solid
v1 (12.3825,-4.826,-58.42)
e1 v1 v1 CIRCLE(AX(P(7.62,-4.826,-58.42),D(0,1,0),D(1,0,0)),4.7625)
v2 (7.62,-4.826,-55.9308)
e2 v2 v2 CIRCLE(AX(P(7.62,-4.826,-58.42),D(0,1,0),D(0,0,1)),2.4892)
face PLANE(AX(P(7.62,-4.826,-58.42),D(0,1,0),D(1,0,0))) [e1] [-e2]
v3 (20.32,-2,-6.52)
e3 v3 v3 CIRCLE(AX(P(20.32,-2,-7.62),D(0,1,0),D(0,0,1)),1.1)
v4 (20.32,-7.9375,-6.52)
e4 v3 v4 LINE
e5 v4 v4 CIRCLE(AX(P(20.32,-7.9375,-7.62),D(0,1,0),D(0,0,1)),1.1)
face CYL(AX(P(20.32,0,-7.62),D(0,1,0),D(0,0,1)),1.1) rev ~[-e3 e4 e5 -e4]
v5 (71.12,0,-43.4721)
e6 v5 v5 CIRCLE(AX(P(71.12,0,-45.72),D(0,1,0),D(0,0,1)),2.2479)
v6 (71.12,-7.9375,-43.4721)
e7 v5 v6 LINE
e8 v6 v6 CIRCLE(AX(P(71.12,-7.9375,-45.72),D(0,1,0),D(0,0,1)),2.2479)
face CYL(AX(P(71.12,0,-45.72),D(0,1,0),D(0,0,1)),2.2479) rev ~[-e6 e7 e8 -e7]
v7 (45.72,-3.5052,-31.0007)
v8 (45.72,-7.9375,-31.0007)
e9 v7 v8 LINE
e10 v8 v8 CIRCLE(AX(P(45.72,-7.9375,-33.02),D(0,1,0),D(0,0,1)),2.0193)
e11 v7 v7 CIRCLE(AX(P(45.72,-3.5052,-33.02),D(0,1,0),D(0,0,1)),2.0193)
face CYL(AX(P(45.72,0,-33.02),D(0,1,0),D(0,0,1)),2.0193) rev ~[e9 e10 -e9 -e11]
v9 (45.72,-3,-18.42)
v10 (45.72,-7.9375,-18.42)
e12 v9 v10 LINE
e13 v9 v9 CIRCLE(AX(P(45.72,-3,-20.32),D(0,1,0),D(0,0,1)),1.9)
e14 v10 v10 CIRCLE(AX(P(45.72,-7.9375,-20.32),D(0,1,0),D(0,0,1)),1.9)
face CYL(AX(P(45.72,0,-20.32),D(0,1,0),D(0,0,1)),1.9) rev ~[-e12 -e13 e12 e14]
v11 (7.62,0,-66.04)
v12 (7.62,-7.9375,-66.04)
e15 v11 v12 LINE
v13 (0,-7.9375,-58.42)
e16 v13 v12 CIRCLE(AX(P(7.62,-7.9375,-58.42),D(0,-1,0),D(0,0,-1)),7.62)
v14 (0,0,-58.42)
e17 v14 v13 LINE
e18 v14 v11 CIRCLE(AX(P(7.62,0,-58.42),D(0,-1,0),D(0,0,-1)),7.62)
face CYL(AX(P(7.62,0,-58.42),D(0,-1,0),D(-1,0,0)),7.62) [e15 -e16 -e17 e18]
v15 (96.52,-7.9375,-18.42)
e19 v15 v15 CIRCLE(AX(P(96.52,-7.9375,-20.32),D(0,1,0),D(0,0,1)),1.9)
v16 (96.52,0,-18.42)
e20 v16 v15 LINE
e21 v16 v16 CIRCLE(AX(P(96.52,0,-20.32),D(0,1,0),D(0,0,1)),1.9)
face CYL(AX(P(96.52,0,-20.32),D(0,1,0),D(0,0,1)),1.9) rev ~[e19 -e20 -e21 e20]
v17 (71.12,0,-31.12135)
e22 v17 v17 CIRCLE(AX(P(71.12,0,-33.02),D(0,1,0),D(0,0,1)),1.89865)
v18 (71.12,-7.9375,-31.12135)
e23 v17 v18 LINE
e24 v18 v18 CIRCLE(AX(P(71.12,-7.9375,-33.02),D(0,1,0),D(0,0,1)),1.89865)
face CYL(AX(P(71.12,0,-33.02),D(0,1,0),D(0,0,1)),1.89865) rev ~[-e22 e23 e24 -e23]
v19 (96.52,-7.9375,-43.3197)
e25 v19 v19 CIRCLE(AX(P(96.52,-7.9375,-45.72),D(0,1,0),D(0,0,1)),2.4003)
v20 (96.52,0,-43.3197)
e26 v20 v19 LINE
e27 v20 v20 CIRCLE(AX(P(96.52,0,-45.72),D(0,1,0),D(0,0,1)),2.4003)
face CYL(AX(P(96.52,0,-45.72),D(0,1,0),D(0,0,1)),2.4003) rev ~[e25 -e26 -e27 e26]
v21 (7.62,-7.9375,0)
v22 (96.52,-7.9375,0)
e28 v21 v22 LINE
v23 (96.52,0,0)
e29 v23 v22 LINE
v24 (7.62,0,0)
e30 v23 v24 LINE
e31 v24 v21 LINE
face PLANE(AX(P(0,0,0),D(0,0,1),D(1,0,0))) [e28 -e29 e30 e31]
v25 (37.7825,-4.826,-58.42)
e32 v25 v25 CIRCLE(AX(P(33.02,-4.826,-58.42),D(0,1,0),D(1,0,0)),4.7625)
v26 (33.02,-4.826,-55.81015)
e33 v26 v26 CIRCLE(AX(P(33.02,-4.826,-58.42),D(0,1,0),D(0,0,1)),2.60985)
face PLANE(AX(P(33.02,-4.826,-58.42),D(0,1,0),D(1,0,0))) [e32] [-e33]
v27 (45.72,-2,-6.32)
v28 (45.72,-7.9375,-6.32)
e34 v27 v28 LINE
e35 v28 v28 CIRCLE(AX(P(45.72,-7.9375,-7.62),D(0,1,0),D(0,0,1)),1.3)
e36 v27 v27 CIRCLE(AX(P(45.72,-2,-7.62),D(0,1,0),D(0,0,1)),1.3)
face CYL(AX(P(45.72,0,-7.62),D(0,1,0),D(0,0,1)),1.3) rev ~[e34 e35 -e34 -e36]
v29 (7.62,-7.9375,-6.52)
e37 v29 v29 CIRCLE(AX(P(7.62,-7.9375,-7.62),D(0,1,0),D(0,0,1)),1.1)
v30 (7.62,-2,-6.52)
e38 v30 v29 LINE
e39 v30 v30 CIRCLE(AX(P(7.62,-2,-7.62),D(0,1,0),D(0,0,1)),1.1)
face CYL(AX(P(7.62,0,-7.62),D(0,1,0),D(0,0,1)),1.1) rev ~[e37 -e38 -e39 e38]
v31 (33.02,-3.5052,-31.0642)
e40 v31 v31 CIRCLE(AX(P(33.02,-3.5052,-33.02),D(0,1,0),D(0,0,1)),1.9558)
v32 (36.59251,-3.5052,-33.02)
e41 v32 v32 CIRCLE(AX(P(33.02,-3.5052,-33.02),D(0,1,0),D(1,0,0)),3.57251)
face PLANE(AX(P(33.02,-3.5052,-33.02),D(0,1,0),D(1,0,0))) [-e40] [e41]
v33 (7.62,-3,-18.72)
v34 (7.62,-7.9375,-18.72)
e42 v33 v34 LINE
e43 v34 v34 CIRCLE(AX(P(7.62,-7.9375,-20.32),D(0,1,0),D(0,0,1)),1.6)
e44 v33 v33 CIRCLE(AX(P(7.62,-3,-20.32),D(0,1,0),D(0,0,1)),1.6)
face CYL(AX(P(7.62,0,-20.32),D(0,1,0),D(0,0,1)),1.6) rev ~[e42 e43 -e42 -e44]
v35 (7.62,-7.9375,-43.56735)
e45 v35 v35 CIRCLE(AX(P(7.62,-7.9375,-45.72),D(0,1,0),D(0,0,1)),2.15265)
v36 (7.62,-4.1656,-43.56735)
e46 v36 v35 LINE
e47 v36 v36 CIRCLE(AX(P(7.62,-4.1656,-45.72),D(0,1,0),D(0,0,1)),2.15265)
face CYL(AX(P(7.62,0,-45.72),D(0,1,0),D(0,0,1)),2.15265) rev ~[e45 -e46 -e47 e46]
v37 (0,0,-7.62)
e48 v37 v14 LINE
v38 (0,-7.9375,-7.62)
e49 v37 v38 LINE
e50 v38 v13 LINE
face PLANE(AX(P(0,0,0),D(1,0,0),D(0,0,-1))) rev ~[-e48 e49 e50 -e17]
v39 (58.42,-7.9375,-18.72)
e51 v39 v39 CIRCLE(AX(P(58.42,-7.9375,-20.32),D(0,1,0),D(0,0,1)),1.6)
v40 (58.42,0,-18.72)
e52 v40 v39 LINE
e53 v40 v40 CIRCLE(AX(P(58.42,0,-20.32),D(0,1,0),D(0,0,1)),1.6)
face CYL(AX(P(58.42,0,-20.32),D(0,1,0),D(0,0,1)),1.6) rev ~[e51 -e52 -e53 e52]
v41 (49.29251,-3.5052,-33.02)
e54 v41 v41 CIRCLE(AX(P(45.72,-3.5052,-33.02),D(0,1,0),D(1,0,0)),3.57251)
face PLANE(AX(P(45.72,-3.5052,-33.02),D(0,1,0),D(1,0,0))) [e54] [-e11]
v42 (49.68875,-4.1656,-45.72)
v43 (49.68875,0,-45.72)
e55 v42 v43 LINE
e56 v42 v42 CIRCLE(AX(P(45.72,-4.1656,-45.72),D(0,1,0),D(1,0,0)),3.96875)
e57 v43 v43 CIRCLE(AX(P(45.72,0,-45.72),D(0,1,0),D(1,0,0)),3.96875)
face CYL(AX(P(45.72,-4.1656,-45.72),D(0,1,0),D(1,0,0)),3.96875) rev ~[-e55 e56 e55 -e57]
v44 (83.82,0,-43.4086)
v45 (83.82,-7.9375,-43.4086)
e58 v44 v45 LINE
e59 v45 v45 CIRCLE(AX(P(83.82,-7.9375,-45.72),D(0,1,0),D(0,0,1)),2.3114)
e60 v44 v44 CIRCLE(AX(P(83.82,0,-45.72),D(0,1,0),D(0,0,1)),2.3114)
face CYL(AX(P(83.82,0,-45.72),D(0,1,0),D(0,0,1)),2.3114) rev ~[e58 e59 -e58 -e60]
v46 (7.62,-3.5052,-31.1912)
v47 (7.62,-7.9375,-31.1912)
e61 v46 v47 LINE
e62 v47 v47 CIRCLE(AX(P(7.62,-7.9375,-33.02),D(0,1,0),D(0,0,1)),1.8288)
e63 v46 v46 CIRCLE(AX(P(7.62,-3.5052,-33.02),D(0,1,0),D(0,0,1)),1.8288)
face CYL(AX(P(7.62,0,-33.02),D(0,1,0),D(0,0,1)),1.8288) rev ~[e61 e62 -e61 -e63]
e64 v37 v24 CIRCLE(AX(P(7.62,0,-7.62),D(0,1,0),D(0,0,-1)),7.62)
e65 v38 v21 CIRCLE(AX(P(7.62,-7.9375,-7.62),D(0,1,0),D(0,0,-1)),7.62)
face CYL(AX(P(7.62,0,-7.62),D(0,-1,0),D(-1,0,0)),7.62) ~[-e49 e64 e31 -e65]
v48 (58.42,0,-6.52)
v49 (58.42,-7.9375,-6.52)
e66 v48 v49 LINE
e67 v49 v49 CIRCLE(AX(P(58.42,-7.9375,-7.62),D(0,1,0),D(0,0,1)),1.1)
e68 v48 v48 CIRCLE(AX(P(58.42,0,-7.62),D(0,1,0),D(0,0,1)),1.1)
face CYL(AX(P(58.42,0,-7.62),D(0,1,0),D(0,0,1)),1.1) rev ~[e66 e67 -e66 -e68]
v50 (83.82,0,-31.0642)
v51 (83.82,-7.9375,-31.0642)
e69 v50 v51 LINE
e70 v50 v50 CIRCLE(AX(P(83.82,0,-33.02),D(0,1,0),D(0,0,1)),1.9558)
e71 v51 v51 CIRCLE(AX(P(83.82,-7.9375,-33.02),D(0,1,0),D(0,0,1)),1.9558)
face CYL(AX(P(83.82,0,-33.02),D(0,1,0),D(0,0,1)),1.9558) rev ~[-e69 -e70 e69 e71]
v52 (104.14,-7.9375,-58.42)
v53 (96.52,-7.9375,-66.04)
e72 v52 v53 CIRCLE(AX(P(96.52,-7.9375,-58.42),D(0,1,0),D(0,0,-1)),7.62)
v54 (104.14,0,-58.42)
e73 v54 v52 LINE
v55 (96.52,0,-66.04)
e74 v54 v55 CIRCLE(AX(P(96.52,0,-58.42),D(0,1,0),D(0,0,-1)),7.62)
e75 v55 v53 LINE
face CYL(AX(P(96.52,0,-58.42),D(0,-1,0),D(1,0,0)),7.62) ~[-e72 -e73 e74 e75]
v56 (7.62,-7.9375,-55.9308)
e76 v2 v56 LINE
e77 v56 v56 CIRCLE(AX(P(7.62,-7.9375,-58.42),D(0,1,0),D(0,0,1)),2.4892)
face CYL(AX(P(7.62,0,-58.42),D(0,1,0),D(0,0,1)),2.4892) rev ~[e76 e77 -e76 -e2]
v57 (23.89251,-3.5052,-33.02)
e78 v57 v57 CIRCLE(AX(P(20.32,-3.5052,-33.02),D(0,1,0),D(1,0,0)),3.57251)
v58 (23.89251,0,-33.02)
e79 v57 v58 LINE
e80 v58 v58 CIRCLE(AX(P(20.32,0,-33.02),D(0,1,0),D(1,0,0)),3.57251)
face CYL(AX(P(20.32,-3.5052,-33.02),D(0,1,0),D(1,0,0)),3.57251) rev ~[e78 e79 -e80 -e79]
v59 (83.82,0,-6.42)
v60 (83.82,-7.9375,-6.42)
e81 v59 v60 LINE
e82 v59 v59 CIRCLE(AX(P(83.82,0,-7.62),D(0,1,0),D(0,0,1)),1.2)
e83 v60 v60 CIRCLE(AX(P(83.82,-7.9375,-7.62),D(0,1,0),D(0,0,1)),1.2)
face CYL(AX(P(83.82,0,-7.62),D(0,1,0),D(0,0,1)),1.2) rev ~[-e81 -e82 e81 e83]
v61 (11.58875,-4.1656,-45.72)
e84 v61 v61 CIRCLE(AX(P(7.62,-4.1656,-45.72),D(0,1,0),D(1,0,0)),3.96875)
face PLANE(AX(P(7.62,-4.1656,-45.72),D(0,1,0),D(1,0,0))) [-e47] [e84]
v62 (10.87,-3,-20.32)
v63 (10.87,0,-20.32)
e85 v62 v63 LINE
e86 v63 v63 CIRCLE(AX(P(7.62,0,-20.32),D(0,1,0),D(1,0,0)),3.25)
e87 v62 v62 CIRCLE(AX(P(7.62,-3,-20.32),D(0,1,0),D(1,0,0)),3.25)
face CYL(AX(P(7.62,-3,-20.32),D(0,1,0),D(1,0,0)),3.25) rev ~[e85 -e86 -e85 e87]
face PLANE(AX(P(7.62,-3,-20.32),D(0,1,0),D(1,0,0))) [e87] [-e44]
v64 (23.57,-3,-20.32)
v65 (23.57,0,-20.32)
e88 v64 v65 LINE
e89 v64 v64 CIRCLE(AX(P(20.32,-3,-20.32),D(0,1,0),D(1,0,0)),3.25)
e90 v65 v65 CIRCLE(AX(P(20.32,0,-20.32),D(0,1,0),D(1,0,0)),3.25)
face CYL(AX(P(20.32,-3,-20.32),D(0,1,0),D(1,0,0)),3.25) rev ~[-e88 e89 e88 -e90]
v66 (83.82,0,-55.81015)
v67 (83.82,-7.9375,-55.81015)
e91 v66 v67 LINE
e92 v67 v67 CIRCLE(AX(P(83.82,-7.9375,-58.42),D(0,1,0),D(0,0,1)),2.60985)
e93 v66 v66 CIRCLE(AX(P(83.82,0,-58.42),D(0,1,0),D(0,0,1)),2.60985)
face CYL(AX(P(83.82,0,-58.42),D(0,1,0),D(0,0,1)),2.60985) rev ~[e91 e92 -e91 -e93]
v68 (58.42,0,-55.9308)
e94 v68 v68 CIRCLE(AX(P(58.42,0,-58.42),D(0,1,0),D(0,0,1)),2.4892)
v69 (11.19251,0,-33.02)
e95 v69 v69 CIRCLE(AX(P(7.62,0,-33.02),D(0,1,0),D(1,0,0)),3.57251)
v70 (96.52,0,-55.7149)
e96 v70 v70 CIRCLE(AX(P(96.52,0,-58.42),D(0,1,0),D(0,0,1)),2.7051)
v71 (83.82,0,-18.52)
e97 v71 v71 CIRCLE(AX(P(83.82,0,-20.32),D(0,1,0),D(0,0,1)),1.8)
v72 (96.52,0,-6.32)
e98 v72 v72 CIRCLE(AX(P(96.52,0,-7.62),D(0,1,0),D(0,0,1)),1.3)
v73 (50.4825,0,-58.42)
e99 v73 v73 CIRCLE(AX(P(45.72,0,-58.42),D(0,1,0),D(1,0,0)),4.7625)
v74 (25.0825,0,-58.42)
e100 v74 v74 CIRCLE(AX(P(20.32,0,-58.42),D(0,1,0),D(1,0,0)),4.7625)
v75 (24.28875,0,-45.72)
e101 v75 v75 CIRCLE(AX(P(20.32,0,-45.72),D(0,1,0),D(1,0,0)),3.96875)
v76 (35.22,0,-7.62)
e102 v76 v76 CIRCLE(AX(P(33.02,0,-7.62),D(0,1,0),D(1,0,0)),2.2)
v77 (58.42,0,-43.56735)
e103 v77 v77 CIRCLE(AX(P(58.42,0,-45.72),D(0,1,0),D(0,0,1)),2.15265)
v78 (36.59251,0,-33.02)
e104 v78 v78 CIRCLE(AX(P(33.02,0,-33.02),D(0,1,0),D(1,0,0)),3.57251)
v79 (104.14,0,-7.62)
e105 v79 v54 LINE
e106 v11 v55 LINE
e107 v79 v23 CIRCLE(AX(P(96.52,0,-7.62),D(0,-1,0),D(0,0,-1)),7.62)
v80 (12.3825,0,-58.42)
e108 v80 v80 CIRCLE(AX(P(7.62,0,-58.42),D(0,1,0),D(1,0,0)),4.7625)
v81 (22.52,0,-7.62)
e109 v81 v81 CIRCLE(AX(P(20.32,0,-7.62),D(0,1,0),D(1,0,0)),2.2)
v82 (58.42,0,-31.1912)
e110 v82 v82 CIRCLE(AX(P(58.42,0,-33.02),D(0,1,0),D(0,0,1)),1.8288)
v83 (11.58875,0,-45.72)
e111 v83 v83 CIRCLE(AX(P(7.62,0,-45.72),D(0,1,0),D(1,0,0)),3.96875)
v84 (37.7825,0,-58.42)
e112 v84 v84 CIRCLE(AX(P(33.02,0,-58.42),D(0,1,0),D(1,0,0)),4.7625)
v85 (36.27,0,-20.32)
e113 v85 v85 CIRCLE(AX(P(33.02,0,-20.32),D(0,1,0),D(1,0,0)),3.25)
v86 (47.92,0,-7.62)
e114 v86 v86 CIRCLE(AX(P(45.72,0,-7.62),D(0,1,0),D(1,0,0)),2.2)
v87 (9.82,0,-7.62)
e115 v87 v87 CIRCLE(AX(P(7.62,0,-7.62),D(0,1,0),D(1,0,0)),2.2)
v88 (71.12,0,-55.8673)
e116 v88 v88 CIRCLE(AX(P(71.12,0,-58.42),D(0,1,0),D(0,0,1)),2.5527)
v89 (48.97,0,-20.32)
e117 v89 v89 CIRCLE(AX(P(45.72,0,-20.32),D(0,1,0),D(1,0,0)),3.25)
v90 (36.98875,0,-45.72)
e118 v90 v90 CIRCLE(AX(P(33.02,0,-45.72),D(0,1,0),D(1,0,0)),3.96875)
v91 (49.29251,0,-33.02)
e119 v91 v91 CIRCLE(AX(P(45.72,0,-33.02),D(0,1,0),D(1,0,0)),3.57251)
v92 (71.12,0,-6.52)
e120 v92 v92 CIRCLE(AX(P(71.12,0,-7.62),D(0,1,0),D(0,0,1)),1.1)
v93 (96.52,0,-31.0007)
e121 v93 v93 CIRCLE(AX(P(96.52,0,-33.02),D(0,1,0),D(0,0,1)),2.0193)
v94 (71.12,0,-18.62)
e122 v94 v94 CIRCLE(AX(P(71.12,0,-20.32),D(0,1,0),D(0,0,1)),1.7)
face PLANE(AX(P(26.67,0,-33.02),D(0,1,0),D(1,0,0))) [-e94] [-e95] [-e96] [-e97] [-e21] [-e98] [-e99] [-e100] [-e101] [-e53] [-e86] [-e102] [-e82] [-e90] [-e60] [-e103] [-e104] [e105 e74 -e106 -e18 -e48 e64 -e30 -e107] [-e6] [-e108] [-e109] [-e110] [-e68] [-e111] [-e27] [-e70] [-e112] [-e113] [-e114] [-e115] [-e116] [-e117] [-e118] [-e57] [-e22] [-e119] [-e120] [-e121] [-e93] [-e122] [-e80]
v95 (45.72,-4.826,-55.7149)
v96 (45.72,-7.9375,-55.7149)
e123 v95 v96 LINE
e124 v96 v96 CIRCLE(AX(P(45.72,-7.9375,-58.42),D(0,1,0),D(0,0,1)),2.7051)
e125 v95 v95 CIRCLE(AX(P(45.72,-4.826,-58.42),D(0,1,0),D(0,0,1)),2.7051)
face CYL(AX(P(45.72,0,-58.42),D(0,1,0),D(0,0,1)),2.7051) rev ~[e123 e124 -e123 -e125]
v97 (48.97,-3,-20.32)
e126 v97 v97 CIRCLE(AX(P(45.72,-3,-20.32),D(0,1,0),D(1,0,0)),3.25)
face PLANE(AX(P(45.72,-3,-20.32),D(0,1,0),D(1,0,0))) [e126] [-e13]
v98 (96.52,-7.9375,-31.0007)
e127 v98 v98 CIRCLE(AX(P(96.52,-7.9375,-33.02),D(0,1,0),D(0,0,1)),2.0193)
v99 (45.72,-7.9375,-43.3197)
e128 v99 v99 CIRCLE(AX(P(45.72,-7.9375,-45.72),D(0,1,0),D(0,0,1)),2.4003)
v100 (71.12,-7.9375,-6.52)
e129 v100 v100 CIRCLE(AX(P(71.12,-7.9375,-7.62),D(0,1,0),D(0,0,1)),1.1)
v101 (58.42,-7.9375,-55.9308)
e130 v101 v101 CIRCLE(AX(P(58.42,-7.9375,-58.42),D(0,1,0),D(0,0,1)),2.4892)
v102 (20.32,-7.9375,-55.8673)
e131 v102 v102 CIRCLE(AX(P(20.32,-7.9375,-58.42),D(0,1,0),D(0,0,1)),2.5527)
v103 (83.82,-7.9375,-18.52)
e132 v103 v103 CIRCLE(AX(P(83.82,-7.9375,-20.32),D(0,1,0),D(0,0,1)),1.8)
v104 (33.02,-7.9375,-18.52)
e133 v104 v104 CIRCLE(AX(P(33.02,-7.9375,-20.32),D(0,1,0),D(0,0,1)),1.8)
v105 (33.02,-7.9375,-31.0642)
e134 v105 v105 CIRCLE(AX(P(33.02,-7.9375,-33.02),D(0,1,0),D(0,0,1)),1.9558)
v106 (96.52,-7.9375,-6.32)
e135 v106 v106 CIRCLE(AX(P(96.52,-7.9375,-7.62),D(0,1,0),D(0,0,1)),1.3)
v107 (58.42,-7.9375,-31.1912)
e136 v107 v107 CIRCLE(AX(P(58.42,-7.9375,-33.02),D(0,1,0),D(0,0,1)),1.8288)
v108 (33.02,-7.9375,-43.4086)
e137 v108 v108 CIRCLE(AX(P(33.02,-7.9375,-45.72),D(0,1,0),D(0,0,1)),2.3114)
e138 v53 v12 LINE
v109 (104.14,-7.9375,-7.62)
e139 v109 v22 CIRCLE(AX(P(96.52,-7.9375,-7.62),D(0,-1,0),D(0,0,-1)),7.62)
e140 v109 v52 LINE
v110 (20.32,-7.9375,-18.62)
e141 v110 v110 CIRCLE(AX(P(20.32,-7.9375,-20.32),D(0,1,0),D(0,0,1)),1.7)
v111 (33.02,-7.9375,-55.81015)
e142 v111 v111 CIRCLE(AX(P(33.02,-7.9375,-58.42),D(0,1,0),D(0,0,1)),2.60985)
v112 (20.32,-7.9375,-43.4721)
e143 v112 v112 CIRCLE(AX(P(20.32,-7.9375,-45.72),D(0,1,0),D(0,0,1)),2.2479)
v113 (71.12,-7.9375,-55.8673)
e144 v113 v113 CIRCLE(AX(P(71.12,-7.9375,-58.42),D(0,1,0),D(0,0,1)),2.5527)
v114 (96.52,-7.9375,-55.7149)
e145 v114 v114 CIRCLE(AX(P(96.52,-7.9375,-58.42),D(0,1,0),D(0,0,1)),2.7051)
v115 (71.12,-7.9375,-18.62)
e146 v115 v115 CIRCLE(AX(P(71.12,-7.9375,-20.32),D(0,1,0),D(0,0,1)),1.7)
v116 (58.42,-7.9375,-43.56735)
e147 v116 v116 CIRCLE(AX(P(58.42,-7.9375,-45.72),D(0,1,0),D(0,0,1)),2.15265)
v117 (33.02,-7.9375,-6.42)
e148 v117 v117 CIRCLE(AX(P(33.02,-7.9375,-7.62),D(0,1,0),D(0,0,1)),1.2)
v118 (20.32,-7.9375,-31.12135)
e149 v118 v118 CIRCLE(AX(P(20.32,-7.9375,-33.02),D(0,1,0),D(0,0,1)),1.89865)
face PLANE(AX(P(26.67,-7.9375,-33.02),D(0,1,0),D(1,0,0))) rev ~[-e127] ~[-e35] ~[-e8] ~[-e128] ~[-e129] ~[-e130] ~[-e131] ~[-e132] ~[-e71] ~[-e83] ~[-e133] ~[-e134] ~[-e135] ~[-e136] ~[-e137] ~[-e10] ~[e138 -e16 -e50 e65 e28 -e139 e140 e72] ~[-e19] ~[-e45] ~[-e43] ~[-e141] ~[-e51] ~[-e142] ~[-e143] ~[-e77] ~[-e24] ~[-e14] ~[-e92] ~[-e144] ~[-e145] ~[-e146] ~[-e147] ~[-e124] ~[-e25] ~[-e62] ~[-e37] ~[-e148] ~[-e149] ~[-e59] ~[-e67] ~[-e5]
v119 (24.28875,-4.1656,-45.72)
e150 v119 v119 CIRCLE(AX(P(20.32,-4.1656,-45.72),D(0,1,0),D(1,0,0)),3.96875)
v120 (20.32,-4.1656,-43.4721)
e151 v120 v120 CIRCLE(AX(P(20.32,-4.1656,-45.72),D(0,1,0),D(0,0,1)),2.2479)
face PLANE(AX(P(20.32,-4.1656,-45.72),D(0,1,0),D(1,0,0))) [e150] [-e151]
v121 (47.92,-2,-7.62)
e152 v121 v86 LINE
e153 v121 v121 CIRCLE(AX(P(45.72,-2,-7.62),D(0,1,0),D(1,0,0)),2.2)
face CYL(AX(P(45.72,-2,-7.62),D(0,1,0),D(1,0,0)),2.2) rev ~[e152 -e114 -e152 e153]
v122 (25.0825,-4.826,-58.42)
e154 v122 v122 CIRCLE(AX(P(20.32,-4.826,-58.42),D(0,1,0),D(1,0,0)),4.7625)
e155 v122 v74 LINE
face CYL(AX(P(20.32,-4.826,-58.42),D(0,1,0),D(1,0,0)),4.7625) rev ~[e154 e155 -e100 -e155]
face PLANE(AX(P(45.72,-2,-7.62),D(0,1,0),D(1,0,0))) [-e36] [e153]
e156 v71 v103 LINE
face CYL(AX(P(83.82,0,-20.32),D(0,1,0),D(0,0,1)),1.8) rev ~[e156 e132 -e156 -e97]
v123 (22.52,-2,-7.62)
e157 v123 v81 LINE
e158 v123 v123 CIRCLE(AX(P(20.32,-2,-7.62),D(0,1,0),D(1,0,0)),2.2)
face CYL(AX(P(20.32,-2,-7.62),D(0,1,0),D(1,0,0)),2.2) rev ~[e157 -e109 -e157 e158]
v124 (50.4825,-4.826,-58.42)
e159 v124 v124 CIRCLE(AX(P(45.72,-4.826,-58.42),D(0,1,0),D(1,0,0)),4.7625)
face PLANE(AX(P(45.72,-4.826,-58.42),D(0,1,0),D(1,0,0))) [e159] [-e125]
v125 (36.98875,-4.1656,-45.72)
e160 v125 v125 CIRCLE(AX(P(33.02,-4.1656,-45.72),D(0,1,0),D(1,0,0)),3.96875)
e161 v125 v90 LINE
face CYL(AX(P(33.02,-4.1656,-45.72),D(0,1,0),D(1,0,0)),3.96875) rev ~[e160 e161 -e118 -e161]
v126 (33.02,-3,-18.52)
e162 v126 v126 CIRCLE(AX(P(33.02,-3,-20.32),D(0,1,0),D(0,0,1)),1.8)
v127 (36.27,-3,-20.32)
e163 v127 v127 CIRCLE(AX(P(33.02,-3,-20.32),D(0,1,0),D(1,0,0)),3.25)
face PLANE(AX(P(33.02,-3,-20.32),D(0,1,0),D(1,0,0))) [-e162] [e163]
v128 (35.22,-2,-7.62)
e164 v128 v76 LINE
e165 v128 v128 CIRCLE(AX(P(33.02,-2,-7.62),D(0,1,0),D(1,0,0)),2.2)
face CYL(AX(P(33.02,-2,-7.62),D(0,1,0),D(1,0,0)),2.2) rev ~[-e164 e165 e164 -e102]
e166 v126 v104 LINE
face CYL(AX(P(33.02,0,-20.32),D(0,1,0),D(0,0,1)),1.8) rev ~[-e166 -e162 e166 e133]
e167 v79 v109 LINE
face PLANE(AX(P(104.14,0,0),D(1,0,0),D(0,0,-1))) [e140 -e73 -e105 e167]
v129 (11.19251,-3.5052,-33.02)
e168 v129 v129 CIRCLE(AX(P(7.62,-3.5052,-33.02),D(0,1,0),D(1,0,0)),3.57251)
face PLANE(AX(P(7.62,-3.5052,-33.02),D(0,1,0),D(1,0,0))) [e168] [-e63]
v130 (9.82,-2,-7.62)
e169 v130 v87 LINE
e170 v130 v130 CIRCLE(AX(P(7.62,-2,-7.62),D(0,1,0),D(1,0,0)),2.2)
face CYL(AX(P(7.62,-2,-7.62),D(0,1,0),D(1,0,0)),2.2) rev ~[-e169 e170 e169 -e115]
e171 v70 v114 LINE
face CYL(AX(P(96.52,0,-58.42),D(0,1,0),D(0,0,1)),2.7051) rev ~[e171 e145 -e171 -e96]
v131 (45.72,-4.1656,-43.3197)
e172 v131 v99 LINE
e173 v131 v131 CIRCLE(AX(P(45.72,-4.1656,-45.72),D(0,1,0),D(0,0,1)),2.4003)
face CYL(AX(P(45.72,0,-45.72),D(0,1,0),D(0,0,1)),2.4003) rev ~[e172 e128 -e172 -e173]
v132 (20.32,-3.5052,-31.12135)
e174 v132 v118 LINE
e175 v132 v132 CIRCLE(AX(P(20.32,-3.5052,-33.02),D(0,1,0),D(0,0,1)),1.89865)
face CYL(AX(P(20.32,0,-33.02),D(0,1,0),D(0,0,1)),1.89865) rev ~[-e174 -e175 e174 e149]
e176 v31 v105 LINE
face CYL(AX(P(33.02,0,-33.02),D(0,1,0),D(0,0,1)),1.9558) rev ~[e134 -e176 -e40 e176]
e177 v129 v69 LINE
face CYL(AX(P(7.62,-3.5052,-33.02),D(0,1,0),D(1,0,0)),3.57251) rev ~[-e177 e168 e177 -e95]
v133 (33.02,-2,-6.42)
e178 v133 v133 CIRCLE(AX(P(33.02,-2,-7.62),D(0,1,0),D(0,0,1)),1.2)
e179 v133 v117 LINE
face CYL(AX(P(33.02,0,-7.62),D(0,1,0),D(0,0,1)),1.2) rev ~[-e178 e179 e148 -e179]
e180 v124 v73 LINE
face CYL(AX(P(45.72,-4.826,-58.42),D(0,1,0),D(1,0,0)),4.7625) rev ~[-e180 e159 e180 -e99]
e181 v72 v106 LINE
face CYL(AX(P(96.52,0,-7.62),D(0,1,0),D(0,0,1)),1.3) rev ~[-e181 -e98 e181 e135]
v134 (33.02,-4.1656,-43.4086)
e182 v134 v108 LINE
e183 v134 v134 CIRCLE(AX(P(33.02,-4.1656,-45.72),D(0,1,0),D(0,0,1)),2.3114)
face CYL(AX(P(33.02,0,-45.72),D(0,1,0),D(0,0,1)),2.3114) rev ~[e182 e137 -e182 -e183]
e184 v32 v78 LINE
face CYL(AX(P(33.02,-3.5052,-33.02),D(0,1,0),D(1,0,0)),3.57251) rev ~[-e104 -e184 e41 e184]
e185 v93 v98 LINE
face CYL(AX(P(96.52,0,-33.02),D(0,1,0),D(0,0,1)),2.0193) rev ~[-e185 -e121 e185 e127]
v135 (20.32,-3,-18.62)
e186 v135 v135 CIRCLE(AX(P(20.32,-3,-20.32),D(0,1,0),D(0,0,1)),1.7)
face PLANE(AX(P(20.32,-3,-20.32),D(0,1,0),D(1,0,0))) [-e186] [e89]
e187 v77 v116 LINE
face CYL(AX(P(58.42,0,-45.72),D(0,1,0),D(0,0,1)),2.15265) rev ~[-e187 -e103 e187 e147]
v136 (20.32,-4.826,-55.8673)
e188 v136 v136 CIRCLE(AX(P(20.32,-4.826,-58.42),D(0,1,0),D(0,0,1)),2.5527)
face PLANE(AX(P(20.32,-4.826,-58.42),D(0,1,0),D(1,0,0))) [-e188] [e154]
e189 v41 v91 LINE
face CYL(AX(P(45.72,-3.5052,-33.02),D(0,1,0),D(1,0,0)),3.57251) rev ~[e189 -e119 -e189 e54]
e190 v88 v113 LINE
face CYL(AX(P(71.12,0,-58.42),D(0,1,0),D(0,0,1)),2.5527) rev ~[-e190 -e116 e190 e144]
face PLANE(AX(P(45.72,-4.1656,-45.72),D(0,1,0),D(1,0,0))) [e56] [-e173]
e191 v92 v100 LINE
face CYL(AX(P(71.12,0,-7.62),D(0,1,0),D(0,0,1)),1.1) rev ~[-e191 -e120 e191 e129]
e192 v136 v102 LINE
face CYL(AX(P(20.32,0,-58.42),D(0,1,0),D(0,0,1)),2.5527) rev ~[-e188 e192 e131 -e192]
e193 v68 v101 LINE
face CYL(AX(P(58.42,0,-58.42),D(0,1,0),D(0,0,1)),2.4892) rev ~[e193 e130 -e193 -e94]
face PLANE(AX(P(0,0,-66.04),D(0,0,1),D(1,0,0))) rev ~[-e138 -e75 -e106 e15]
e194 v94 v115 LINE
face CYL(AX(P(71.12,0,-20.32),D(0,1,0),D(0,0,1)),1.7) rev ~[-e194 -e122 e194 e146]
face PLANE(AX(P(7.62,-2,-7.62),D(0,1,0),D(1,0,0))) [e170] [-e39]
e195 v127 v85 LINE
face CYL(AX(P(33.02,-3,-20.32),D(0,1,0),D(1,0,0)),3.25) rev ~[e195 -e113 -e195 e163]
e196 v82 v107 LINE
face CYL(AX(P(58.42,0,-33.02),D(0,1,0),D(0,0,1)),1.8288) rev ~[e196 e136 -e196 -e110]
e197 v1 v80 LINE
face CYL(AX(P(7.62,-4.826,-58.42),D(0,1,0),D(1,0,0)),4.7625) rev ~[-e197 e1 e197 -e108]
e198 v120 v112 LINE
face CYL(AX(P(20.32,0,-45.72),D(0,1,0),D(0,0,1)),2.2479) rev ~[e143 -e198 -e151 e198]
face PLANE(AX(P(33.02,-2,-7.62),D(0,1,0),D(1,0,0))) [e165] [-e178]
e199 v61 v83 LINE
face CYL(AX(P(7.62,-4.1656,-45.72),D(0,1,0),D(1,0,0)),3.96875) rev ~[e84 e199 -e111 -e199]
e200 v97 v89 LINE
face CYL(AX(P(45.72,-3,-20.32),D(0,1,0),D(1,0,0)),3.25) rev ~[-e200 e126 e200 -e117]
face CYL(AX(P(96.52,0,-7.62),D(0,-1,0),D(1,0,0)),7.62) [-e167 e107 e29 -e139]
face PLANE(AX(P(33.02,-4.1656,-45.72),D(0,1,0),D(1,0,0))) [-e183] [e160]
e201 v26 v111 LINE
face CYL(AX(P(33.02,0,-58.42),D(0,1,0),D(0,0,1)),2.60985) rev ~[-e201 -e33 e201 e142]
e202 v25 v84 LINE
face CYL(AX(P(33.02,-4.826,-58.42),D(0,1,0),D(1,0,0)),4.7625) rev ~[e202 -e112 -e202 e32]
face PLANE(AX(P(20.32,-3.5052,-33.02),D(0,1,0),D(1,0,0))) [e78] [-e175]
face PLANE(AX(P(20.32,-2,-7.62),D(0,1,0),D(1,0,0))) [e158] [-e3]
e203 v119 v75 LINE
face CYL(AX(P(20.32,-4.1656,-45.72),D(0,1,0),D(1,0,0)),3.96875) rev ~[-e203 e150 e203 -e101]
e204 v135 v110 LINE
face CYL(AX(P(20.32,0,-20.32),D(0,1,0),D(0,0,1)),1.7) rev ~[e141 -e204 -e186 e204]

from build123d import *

# Parameters (mm, degrees)
SKETCH1_W                                       = 53.34
SKETCH1_H                                       = 66.04
SKETCH1_R                                       = 2.5527
SKETCH1_R_2                                     = 2.60985
SKETCH1_R_3                                     = 2.7051
SKETCH1_R_4                                     = 2.4003
SKETCH1_R_5                                     = 2.3114
SKETCH1_R_6                                     = 2.2479
SKETCH1_R_7                                     = 1.89865
SKETCH1_R_8                                     = 1.9558
SKETCH1_R_9                                     = 2.0193
SKETCH1_R_10                                    = 1.9
SKETCH1_R_11                                    = 1.8
SKETCH1_R_12                                    = 1.7
SKETCH1_R_13                                    = 1.1
SKETCH1_R_14                                    = 1.2
SKETCH1_R_15                                    = 1.3
SKETCH1_R_16                                    = 2.4892
SKETCH1_R_17                                    = 2.15265
SKETCH1_R_18                                    = 1.8288
SKETCH1_R_19                                    = 1.6
BOSS_EXTRUDE1_DEPTH                             = 7.9375
LPATTERN1_COUNT                                 = 2
LPATTERN1_PITCH                                 = 50.8
CBORE_FOR_10_SOCKET_HEAD_CAP_SCREW1_D           = 4.9784
CBORE_FOR_10_SOCKET_HEAD_CAP_SCREW1_CBORE_D     = 9.525
CBORE_FOR_10_SOCKET_HEAD_CAP_SCREW1_CBORE_DEPTH = 4.826
CBORE_FOR_8_SOCKET_HEAD_CAP_SCREW1_D            = 4.3053
CBORE_FOR_8_SOCKET_HEAD_CAP_SCREW1_CBORE_D      = 7.9375
CBORE_FOR_8_SOCKET_HEAD_CAP_SCREW1_CBORE_DEPTH  = 4.1656
CBORE_FOR_6_SOCKET_HEAD_CAP_SCREW1_D            = 3.6576
CBORE_FOR_6_SOCKET_HEAD_CAP_SCREW1_CBORE_D      = 7.14502
CBORE_FOR_6_SOCKET_HEAD_CAP_SCREW1_CBORE_DEPTH  = 3.5052
CBORE_FOR_M3_SHCS1_D                            = 3.2
CBORE_FOR_M3_SHCS1_CBORE_D                      = 6.5
CBORE_FOR_M3_SHCS1_CBORE_DEPTH                  = 3
CBORE_FOR_M2_SHCS1_D                            = 2.2
CBORE_FOR_M2_SHCS1_CBORE_D                      = 4.4
CBORE_FOR_M2_SHCS1_CBORE_DEPTH                  = 2
FILLET1_R                                       = 7.62


with BuildPart() as part:
    # Sketch1 → Boss-Extrude1 (new body)
    with BuildSketch(Plane(origin=(0, 0, 0), x_dir=(1, 0, 0), z_dir=(0, 1, 0))):
        with Locations((26.67, 33.02)):
            Rectangle(SKETCH1_W, SKETCH1_H)
        with Locations((20.32, 58.42)):
            Circle(SKETCH1_R, mode=Mode.SUBTRACT)
        with Locations((33.02, 58.42)):
            Circle(SKETCH1_R_2, mode=Mode.SUBTRACT)
        with Locations((45.72, 58.42)):
            Circle(SKETCH1_R_3, mode=Mode.SUBTRACT)
        with Locations((45.72, 45.72)):
            Circle(SKETCH1_R_4, mode=Mode.SUBTRACT)
        with Locations((33.02, 45.72)):
            Circle(SKETCH1_R_5, mode=Mode.SUBTRACT)
        with Locations((20.32, 45.72)):
            Circle(SKETCH1_R_6, mode=Mode.SUBTRACT)
        with Locations((20.32, 33.02)):
            Circle(SKETCH1_R_7, mode=Mode.SUBTRACT)
        with Locations((33.02, 33.02)):
            Circle(SKETCH1_R_8, mode=Mode.SUBTRACT)
        with Locations((45.72, 33.02)):
            Circle(SKETCH1_R_9, mode=Mode.SUBTRACT)
        with Locations((45.72, 20.32)):
            Circle(SKETCH1_R_10, mode=Mode.SUBTRACT)
        with Locations((33.02, 20.32)):
            Circle(SKETCH1_R_11, mode=Mode.SUBTRACT)
        with Locations((20.32, 20.32)):
            Circle(SKETCH1_R_12, mode=Mode.SUBTRACT)
        with Locations((20.32, 7.62)):
            Circle(SKETCH1_R_13, mode=Mode.SUBTRACT)
        with Locations((33.02, 7.62)):
            Circle(SKETCH1_R_14, mode=Mode.SUBTRACT)
        with Locations((45.72, 7.62)):
            Circle(SKETCH1_R_15, mode=Mode.SUBTRACT)
        with Locations((7.62, 58.42)):
            Circle(SKETCH1_R_16, mode=Mode.SUBTRACT)
        with Locations((7.62, 45.72)):
            Circle(SKETCH1_R_17, mode=Mode.SUBTRACT)
        with Locations((7.62, 33.02)):
            Circle(SKETCH1_R_18, mode=Mode.SUBTRACT)
        with Locations((7.62, 7.62)):
            Circle(SKETCH1_R_13, mode=Mode.SUBTRACT)
        with Locations((7.62, 20.32)):
            Circle(SKETCH1_R_19, mode=Mode.SUBTRACT)
    extrude(amount=-BOSS_EXTRUDE1_DEPTH)


with BuildPart() as lpattern1_1:
    # LPattern1: pattern copy
    add(part.part.moved(Location(Vector(1, 0, 0) * (1 * LPATTERN1_PITCH))))

    # Combine1: union part
    add(part.part)

    # CBORE for #10 Socket Head Cap Screw1 (through all)
    with Locations(Plane(origin=(0, 0, 0), x_dir=(1, 0, 0), z_dir=(0, 1, 0))):
        with Locations((7.62, 58.42), (20.32, 58.42), (33.02, 58.42), (45.72, 58.42)):
            CounterBoreHole(CBORE_FOR_10_SOCKET_HEAD_CAP_SCREW1_D / 2, CBORE_FOR_10_SOCKET_HEAD_CAP_SCREW1_CBORE_D / 2, CBORE_FOR_10_SOCKET_HEAD_CAP_SCREW1_CBORE_DEPTH)

    # CBORE for #8 Socket Head Cap Screw1 (through all)
    with Locations(Plane(origin=(0, 0, 0), x_dir=(1, 0, 0), z_dir=(0, 1, 0))):
        with Locations((7.62, 45.72), (20.32, 45.72), (33.02, 45.72), (45.72, 45.72)):
            CounterBoreHole(CBORE_FOR_8_SOCKET_HEAD_CAP_SCREW1_D / 2, CBORE_FOR_8_SOCKET_HEAD_CAP_SCREW1_CBORE_D / 2, CBORE_FOR_8_SOCKET_HEAD_CAP_SCREW1_CBORE_DEPTH)

    # CBORE for #6 Socket Head Cap Screw1 (through all)
    with Locations(Plane(origin=(0, 0, 0), x_dir=(1, 0, 0), z_dir=(0, 1, 0))):
        with Locations((7.62, 33.02), (20.32, 33.02), (33.02, 33.02), (45.72, 33.02)):
            CounterBoreHole(CBORE_FOR_6_SOCKET_HEAD_CAP_SCREW1_D / 2, CBORE_FOR_6_SOCKET_HEAD_CAP_SCREW1_CBORE_D / 2, CBORE_FOR_6_SOCKET_HEAD_CAP_SCREW1_CBORE_DEPTH)

    # CBORE for M3 SHCS1 (through all)
    with Locations(Plane(origin=(0, 0, 0), x_dir=(1, 0, 0), z_dir=(0, 1, 0))):
        with Locations((7.62, 20.32), (20.32, 20.32), (33.02, 20.32), (45.72, 20.32)):
            CounterBoreHole(CBORE_FOR_M3_SHCS1_D / 2, CBORE_FOR_M3_SHCS1_CBORE_D / 2, CBORE_FOR_M3_SHCS1_CBORE_DEPTH)

    # CBORE for M2 SHCS1 (through all)
    with Locations(Plane(origin=(0, 0, 0), x_dir=(1, 0, 0), z_dir=(0, 1, 0))):
        with Locations((7.62, 7.62), (20.32, 7.62), (33.02, 7.62), (45.72, 7.62)):
            CounterBoreHole(CBORE_FOR_M2_SHCS1_D / 2, CBORE_FOR_M2_SHCS1_CBORE_D / 2, CBORE_FOR_M2_SHCS1_CBORE_DEPTH)

    # Fillet1
    fillet1_edges = [lpattern1_1.edges().sort_by_distance(p)[0] for p in [
        (104.14, -3.96875, -66.04),
        (104.14, -3.96875, 0),
        (0, -3.96875, -66.04),
        (0, -3.96875, 0),
    ]]
    fillet(fillet1_edges, radius=FILLET1_R)


solid = lpattern1_1.part
